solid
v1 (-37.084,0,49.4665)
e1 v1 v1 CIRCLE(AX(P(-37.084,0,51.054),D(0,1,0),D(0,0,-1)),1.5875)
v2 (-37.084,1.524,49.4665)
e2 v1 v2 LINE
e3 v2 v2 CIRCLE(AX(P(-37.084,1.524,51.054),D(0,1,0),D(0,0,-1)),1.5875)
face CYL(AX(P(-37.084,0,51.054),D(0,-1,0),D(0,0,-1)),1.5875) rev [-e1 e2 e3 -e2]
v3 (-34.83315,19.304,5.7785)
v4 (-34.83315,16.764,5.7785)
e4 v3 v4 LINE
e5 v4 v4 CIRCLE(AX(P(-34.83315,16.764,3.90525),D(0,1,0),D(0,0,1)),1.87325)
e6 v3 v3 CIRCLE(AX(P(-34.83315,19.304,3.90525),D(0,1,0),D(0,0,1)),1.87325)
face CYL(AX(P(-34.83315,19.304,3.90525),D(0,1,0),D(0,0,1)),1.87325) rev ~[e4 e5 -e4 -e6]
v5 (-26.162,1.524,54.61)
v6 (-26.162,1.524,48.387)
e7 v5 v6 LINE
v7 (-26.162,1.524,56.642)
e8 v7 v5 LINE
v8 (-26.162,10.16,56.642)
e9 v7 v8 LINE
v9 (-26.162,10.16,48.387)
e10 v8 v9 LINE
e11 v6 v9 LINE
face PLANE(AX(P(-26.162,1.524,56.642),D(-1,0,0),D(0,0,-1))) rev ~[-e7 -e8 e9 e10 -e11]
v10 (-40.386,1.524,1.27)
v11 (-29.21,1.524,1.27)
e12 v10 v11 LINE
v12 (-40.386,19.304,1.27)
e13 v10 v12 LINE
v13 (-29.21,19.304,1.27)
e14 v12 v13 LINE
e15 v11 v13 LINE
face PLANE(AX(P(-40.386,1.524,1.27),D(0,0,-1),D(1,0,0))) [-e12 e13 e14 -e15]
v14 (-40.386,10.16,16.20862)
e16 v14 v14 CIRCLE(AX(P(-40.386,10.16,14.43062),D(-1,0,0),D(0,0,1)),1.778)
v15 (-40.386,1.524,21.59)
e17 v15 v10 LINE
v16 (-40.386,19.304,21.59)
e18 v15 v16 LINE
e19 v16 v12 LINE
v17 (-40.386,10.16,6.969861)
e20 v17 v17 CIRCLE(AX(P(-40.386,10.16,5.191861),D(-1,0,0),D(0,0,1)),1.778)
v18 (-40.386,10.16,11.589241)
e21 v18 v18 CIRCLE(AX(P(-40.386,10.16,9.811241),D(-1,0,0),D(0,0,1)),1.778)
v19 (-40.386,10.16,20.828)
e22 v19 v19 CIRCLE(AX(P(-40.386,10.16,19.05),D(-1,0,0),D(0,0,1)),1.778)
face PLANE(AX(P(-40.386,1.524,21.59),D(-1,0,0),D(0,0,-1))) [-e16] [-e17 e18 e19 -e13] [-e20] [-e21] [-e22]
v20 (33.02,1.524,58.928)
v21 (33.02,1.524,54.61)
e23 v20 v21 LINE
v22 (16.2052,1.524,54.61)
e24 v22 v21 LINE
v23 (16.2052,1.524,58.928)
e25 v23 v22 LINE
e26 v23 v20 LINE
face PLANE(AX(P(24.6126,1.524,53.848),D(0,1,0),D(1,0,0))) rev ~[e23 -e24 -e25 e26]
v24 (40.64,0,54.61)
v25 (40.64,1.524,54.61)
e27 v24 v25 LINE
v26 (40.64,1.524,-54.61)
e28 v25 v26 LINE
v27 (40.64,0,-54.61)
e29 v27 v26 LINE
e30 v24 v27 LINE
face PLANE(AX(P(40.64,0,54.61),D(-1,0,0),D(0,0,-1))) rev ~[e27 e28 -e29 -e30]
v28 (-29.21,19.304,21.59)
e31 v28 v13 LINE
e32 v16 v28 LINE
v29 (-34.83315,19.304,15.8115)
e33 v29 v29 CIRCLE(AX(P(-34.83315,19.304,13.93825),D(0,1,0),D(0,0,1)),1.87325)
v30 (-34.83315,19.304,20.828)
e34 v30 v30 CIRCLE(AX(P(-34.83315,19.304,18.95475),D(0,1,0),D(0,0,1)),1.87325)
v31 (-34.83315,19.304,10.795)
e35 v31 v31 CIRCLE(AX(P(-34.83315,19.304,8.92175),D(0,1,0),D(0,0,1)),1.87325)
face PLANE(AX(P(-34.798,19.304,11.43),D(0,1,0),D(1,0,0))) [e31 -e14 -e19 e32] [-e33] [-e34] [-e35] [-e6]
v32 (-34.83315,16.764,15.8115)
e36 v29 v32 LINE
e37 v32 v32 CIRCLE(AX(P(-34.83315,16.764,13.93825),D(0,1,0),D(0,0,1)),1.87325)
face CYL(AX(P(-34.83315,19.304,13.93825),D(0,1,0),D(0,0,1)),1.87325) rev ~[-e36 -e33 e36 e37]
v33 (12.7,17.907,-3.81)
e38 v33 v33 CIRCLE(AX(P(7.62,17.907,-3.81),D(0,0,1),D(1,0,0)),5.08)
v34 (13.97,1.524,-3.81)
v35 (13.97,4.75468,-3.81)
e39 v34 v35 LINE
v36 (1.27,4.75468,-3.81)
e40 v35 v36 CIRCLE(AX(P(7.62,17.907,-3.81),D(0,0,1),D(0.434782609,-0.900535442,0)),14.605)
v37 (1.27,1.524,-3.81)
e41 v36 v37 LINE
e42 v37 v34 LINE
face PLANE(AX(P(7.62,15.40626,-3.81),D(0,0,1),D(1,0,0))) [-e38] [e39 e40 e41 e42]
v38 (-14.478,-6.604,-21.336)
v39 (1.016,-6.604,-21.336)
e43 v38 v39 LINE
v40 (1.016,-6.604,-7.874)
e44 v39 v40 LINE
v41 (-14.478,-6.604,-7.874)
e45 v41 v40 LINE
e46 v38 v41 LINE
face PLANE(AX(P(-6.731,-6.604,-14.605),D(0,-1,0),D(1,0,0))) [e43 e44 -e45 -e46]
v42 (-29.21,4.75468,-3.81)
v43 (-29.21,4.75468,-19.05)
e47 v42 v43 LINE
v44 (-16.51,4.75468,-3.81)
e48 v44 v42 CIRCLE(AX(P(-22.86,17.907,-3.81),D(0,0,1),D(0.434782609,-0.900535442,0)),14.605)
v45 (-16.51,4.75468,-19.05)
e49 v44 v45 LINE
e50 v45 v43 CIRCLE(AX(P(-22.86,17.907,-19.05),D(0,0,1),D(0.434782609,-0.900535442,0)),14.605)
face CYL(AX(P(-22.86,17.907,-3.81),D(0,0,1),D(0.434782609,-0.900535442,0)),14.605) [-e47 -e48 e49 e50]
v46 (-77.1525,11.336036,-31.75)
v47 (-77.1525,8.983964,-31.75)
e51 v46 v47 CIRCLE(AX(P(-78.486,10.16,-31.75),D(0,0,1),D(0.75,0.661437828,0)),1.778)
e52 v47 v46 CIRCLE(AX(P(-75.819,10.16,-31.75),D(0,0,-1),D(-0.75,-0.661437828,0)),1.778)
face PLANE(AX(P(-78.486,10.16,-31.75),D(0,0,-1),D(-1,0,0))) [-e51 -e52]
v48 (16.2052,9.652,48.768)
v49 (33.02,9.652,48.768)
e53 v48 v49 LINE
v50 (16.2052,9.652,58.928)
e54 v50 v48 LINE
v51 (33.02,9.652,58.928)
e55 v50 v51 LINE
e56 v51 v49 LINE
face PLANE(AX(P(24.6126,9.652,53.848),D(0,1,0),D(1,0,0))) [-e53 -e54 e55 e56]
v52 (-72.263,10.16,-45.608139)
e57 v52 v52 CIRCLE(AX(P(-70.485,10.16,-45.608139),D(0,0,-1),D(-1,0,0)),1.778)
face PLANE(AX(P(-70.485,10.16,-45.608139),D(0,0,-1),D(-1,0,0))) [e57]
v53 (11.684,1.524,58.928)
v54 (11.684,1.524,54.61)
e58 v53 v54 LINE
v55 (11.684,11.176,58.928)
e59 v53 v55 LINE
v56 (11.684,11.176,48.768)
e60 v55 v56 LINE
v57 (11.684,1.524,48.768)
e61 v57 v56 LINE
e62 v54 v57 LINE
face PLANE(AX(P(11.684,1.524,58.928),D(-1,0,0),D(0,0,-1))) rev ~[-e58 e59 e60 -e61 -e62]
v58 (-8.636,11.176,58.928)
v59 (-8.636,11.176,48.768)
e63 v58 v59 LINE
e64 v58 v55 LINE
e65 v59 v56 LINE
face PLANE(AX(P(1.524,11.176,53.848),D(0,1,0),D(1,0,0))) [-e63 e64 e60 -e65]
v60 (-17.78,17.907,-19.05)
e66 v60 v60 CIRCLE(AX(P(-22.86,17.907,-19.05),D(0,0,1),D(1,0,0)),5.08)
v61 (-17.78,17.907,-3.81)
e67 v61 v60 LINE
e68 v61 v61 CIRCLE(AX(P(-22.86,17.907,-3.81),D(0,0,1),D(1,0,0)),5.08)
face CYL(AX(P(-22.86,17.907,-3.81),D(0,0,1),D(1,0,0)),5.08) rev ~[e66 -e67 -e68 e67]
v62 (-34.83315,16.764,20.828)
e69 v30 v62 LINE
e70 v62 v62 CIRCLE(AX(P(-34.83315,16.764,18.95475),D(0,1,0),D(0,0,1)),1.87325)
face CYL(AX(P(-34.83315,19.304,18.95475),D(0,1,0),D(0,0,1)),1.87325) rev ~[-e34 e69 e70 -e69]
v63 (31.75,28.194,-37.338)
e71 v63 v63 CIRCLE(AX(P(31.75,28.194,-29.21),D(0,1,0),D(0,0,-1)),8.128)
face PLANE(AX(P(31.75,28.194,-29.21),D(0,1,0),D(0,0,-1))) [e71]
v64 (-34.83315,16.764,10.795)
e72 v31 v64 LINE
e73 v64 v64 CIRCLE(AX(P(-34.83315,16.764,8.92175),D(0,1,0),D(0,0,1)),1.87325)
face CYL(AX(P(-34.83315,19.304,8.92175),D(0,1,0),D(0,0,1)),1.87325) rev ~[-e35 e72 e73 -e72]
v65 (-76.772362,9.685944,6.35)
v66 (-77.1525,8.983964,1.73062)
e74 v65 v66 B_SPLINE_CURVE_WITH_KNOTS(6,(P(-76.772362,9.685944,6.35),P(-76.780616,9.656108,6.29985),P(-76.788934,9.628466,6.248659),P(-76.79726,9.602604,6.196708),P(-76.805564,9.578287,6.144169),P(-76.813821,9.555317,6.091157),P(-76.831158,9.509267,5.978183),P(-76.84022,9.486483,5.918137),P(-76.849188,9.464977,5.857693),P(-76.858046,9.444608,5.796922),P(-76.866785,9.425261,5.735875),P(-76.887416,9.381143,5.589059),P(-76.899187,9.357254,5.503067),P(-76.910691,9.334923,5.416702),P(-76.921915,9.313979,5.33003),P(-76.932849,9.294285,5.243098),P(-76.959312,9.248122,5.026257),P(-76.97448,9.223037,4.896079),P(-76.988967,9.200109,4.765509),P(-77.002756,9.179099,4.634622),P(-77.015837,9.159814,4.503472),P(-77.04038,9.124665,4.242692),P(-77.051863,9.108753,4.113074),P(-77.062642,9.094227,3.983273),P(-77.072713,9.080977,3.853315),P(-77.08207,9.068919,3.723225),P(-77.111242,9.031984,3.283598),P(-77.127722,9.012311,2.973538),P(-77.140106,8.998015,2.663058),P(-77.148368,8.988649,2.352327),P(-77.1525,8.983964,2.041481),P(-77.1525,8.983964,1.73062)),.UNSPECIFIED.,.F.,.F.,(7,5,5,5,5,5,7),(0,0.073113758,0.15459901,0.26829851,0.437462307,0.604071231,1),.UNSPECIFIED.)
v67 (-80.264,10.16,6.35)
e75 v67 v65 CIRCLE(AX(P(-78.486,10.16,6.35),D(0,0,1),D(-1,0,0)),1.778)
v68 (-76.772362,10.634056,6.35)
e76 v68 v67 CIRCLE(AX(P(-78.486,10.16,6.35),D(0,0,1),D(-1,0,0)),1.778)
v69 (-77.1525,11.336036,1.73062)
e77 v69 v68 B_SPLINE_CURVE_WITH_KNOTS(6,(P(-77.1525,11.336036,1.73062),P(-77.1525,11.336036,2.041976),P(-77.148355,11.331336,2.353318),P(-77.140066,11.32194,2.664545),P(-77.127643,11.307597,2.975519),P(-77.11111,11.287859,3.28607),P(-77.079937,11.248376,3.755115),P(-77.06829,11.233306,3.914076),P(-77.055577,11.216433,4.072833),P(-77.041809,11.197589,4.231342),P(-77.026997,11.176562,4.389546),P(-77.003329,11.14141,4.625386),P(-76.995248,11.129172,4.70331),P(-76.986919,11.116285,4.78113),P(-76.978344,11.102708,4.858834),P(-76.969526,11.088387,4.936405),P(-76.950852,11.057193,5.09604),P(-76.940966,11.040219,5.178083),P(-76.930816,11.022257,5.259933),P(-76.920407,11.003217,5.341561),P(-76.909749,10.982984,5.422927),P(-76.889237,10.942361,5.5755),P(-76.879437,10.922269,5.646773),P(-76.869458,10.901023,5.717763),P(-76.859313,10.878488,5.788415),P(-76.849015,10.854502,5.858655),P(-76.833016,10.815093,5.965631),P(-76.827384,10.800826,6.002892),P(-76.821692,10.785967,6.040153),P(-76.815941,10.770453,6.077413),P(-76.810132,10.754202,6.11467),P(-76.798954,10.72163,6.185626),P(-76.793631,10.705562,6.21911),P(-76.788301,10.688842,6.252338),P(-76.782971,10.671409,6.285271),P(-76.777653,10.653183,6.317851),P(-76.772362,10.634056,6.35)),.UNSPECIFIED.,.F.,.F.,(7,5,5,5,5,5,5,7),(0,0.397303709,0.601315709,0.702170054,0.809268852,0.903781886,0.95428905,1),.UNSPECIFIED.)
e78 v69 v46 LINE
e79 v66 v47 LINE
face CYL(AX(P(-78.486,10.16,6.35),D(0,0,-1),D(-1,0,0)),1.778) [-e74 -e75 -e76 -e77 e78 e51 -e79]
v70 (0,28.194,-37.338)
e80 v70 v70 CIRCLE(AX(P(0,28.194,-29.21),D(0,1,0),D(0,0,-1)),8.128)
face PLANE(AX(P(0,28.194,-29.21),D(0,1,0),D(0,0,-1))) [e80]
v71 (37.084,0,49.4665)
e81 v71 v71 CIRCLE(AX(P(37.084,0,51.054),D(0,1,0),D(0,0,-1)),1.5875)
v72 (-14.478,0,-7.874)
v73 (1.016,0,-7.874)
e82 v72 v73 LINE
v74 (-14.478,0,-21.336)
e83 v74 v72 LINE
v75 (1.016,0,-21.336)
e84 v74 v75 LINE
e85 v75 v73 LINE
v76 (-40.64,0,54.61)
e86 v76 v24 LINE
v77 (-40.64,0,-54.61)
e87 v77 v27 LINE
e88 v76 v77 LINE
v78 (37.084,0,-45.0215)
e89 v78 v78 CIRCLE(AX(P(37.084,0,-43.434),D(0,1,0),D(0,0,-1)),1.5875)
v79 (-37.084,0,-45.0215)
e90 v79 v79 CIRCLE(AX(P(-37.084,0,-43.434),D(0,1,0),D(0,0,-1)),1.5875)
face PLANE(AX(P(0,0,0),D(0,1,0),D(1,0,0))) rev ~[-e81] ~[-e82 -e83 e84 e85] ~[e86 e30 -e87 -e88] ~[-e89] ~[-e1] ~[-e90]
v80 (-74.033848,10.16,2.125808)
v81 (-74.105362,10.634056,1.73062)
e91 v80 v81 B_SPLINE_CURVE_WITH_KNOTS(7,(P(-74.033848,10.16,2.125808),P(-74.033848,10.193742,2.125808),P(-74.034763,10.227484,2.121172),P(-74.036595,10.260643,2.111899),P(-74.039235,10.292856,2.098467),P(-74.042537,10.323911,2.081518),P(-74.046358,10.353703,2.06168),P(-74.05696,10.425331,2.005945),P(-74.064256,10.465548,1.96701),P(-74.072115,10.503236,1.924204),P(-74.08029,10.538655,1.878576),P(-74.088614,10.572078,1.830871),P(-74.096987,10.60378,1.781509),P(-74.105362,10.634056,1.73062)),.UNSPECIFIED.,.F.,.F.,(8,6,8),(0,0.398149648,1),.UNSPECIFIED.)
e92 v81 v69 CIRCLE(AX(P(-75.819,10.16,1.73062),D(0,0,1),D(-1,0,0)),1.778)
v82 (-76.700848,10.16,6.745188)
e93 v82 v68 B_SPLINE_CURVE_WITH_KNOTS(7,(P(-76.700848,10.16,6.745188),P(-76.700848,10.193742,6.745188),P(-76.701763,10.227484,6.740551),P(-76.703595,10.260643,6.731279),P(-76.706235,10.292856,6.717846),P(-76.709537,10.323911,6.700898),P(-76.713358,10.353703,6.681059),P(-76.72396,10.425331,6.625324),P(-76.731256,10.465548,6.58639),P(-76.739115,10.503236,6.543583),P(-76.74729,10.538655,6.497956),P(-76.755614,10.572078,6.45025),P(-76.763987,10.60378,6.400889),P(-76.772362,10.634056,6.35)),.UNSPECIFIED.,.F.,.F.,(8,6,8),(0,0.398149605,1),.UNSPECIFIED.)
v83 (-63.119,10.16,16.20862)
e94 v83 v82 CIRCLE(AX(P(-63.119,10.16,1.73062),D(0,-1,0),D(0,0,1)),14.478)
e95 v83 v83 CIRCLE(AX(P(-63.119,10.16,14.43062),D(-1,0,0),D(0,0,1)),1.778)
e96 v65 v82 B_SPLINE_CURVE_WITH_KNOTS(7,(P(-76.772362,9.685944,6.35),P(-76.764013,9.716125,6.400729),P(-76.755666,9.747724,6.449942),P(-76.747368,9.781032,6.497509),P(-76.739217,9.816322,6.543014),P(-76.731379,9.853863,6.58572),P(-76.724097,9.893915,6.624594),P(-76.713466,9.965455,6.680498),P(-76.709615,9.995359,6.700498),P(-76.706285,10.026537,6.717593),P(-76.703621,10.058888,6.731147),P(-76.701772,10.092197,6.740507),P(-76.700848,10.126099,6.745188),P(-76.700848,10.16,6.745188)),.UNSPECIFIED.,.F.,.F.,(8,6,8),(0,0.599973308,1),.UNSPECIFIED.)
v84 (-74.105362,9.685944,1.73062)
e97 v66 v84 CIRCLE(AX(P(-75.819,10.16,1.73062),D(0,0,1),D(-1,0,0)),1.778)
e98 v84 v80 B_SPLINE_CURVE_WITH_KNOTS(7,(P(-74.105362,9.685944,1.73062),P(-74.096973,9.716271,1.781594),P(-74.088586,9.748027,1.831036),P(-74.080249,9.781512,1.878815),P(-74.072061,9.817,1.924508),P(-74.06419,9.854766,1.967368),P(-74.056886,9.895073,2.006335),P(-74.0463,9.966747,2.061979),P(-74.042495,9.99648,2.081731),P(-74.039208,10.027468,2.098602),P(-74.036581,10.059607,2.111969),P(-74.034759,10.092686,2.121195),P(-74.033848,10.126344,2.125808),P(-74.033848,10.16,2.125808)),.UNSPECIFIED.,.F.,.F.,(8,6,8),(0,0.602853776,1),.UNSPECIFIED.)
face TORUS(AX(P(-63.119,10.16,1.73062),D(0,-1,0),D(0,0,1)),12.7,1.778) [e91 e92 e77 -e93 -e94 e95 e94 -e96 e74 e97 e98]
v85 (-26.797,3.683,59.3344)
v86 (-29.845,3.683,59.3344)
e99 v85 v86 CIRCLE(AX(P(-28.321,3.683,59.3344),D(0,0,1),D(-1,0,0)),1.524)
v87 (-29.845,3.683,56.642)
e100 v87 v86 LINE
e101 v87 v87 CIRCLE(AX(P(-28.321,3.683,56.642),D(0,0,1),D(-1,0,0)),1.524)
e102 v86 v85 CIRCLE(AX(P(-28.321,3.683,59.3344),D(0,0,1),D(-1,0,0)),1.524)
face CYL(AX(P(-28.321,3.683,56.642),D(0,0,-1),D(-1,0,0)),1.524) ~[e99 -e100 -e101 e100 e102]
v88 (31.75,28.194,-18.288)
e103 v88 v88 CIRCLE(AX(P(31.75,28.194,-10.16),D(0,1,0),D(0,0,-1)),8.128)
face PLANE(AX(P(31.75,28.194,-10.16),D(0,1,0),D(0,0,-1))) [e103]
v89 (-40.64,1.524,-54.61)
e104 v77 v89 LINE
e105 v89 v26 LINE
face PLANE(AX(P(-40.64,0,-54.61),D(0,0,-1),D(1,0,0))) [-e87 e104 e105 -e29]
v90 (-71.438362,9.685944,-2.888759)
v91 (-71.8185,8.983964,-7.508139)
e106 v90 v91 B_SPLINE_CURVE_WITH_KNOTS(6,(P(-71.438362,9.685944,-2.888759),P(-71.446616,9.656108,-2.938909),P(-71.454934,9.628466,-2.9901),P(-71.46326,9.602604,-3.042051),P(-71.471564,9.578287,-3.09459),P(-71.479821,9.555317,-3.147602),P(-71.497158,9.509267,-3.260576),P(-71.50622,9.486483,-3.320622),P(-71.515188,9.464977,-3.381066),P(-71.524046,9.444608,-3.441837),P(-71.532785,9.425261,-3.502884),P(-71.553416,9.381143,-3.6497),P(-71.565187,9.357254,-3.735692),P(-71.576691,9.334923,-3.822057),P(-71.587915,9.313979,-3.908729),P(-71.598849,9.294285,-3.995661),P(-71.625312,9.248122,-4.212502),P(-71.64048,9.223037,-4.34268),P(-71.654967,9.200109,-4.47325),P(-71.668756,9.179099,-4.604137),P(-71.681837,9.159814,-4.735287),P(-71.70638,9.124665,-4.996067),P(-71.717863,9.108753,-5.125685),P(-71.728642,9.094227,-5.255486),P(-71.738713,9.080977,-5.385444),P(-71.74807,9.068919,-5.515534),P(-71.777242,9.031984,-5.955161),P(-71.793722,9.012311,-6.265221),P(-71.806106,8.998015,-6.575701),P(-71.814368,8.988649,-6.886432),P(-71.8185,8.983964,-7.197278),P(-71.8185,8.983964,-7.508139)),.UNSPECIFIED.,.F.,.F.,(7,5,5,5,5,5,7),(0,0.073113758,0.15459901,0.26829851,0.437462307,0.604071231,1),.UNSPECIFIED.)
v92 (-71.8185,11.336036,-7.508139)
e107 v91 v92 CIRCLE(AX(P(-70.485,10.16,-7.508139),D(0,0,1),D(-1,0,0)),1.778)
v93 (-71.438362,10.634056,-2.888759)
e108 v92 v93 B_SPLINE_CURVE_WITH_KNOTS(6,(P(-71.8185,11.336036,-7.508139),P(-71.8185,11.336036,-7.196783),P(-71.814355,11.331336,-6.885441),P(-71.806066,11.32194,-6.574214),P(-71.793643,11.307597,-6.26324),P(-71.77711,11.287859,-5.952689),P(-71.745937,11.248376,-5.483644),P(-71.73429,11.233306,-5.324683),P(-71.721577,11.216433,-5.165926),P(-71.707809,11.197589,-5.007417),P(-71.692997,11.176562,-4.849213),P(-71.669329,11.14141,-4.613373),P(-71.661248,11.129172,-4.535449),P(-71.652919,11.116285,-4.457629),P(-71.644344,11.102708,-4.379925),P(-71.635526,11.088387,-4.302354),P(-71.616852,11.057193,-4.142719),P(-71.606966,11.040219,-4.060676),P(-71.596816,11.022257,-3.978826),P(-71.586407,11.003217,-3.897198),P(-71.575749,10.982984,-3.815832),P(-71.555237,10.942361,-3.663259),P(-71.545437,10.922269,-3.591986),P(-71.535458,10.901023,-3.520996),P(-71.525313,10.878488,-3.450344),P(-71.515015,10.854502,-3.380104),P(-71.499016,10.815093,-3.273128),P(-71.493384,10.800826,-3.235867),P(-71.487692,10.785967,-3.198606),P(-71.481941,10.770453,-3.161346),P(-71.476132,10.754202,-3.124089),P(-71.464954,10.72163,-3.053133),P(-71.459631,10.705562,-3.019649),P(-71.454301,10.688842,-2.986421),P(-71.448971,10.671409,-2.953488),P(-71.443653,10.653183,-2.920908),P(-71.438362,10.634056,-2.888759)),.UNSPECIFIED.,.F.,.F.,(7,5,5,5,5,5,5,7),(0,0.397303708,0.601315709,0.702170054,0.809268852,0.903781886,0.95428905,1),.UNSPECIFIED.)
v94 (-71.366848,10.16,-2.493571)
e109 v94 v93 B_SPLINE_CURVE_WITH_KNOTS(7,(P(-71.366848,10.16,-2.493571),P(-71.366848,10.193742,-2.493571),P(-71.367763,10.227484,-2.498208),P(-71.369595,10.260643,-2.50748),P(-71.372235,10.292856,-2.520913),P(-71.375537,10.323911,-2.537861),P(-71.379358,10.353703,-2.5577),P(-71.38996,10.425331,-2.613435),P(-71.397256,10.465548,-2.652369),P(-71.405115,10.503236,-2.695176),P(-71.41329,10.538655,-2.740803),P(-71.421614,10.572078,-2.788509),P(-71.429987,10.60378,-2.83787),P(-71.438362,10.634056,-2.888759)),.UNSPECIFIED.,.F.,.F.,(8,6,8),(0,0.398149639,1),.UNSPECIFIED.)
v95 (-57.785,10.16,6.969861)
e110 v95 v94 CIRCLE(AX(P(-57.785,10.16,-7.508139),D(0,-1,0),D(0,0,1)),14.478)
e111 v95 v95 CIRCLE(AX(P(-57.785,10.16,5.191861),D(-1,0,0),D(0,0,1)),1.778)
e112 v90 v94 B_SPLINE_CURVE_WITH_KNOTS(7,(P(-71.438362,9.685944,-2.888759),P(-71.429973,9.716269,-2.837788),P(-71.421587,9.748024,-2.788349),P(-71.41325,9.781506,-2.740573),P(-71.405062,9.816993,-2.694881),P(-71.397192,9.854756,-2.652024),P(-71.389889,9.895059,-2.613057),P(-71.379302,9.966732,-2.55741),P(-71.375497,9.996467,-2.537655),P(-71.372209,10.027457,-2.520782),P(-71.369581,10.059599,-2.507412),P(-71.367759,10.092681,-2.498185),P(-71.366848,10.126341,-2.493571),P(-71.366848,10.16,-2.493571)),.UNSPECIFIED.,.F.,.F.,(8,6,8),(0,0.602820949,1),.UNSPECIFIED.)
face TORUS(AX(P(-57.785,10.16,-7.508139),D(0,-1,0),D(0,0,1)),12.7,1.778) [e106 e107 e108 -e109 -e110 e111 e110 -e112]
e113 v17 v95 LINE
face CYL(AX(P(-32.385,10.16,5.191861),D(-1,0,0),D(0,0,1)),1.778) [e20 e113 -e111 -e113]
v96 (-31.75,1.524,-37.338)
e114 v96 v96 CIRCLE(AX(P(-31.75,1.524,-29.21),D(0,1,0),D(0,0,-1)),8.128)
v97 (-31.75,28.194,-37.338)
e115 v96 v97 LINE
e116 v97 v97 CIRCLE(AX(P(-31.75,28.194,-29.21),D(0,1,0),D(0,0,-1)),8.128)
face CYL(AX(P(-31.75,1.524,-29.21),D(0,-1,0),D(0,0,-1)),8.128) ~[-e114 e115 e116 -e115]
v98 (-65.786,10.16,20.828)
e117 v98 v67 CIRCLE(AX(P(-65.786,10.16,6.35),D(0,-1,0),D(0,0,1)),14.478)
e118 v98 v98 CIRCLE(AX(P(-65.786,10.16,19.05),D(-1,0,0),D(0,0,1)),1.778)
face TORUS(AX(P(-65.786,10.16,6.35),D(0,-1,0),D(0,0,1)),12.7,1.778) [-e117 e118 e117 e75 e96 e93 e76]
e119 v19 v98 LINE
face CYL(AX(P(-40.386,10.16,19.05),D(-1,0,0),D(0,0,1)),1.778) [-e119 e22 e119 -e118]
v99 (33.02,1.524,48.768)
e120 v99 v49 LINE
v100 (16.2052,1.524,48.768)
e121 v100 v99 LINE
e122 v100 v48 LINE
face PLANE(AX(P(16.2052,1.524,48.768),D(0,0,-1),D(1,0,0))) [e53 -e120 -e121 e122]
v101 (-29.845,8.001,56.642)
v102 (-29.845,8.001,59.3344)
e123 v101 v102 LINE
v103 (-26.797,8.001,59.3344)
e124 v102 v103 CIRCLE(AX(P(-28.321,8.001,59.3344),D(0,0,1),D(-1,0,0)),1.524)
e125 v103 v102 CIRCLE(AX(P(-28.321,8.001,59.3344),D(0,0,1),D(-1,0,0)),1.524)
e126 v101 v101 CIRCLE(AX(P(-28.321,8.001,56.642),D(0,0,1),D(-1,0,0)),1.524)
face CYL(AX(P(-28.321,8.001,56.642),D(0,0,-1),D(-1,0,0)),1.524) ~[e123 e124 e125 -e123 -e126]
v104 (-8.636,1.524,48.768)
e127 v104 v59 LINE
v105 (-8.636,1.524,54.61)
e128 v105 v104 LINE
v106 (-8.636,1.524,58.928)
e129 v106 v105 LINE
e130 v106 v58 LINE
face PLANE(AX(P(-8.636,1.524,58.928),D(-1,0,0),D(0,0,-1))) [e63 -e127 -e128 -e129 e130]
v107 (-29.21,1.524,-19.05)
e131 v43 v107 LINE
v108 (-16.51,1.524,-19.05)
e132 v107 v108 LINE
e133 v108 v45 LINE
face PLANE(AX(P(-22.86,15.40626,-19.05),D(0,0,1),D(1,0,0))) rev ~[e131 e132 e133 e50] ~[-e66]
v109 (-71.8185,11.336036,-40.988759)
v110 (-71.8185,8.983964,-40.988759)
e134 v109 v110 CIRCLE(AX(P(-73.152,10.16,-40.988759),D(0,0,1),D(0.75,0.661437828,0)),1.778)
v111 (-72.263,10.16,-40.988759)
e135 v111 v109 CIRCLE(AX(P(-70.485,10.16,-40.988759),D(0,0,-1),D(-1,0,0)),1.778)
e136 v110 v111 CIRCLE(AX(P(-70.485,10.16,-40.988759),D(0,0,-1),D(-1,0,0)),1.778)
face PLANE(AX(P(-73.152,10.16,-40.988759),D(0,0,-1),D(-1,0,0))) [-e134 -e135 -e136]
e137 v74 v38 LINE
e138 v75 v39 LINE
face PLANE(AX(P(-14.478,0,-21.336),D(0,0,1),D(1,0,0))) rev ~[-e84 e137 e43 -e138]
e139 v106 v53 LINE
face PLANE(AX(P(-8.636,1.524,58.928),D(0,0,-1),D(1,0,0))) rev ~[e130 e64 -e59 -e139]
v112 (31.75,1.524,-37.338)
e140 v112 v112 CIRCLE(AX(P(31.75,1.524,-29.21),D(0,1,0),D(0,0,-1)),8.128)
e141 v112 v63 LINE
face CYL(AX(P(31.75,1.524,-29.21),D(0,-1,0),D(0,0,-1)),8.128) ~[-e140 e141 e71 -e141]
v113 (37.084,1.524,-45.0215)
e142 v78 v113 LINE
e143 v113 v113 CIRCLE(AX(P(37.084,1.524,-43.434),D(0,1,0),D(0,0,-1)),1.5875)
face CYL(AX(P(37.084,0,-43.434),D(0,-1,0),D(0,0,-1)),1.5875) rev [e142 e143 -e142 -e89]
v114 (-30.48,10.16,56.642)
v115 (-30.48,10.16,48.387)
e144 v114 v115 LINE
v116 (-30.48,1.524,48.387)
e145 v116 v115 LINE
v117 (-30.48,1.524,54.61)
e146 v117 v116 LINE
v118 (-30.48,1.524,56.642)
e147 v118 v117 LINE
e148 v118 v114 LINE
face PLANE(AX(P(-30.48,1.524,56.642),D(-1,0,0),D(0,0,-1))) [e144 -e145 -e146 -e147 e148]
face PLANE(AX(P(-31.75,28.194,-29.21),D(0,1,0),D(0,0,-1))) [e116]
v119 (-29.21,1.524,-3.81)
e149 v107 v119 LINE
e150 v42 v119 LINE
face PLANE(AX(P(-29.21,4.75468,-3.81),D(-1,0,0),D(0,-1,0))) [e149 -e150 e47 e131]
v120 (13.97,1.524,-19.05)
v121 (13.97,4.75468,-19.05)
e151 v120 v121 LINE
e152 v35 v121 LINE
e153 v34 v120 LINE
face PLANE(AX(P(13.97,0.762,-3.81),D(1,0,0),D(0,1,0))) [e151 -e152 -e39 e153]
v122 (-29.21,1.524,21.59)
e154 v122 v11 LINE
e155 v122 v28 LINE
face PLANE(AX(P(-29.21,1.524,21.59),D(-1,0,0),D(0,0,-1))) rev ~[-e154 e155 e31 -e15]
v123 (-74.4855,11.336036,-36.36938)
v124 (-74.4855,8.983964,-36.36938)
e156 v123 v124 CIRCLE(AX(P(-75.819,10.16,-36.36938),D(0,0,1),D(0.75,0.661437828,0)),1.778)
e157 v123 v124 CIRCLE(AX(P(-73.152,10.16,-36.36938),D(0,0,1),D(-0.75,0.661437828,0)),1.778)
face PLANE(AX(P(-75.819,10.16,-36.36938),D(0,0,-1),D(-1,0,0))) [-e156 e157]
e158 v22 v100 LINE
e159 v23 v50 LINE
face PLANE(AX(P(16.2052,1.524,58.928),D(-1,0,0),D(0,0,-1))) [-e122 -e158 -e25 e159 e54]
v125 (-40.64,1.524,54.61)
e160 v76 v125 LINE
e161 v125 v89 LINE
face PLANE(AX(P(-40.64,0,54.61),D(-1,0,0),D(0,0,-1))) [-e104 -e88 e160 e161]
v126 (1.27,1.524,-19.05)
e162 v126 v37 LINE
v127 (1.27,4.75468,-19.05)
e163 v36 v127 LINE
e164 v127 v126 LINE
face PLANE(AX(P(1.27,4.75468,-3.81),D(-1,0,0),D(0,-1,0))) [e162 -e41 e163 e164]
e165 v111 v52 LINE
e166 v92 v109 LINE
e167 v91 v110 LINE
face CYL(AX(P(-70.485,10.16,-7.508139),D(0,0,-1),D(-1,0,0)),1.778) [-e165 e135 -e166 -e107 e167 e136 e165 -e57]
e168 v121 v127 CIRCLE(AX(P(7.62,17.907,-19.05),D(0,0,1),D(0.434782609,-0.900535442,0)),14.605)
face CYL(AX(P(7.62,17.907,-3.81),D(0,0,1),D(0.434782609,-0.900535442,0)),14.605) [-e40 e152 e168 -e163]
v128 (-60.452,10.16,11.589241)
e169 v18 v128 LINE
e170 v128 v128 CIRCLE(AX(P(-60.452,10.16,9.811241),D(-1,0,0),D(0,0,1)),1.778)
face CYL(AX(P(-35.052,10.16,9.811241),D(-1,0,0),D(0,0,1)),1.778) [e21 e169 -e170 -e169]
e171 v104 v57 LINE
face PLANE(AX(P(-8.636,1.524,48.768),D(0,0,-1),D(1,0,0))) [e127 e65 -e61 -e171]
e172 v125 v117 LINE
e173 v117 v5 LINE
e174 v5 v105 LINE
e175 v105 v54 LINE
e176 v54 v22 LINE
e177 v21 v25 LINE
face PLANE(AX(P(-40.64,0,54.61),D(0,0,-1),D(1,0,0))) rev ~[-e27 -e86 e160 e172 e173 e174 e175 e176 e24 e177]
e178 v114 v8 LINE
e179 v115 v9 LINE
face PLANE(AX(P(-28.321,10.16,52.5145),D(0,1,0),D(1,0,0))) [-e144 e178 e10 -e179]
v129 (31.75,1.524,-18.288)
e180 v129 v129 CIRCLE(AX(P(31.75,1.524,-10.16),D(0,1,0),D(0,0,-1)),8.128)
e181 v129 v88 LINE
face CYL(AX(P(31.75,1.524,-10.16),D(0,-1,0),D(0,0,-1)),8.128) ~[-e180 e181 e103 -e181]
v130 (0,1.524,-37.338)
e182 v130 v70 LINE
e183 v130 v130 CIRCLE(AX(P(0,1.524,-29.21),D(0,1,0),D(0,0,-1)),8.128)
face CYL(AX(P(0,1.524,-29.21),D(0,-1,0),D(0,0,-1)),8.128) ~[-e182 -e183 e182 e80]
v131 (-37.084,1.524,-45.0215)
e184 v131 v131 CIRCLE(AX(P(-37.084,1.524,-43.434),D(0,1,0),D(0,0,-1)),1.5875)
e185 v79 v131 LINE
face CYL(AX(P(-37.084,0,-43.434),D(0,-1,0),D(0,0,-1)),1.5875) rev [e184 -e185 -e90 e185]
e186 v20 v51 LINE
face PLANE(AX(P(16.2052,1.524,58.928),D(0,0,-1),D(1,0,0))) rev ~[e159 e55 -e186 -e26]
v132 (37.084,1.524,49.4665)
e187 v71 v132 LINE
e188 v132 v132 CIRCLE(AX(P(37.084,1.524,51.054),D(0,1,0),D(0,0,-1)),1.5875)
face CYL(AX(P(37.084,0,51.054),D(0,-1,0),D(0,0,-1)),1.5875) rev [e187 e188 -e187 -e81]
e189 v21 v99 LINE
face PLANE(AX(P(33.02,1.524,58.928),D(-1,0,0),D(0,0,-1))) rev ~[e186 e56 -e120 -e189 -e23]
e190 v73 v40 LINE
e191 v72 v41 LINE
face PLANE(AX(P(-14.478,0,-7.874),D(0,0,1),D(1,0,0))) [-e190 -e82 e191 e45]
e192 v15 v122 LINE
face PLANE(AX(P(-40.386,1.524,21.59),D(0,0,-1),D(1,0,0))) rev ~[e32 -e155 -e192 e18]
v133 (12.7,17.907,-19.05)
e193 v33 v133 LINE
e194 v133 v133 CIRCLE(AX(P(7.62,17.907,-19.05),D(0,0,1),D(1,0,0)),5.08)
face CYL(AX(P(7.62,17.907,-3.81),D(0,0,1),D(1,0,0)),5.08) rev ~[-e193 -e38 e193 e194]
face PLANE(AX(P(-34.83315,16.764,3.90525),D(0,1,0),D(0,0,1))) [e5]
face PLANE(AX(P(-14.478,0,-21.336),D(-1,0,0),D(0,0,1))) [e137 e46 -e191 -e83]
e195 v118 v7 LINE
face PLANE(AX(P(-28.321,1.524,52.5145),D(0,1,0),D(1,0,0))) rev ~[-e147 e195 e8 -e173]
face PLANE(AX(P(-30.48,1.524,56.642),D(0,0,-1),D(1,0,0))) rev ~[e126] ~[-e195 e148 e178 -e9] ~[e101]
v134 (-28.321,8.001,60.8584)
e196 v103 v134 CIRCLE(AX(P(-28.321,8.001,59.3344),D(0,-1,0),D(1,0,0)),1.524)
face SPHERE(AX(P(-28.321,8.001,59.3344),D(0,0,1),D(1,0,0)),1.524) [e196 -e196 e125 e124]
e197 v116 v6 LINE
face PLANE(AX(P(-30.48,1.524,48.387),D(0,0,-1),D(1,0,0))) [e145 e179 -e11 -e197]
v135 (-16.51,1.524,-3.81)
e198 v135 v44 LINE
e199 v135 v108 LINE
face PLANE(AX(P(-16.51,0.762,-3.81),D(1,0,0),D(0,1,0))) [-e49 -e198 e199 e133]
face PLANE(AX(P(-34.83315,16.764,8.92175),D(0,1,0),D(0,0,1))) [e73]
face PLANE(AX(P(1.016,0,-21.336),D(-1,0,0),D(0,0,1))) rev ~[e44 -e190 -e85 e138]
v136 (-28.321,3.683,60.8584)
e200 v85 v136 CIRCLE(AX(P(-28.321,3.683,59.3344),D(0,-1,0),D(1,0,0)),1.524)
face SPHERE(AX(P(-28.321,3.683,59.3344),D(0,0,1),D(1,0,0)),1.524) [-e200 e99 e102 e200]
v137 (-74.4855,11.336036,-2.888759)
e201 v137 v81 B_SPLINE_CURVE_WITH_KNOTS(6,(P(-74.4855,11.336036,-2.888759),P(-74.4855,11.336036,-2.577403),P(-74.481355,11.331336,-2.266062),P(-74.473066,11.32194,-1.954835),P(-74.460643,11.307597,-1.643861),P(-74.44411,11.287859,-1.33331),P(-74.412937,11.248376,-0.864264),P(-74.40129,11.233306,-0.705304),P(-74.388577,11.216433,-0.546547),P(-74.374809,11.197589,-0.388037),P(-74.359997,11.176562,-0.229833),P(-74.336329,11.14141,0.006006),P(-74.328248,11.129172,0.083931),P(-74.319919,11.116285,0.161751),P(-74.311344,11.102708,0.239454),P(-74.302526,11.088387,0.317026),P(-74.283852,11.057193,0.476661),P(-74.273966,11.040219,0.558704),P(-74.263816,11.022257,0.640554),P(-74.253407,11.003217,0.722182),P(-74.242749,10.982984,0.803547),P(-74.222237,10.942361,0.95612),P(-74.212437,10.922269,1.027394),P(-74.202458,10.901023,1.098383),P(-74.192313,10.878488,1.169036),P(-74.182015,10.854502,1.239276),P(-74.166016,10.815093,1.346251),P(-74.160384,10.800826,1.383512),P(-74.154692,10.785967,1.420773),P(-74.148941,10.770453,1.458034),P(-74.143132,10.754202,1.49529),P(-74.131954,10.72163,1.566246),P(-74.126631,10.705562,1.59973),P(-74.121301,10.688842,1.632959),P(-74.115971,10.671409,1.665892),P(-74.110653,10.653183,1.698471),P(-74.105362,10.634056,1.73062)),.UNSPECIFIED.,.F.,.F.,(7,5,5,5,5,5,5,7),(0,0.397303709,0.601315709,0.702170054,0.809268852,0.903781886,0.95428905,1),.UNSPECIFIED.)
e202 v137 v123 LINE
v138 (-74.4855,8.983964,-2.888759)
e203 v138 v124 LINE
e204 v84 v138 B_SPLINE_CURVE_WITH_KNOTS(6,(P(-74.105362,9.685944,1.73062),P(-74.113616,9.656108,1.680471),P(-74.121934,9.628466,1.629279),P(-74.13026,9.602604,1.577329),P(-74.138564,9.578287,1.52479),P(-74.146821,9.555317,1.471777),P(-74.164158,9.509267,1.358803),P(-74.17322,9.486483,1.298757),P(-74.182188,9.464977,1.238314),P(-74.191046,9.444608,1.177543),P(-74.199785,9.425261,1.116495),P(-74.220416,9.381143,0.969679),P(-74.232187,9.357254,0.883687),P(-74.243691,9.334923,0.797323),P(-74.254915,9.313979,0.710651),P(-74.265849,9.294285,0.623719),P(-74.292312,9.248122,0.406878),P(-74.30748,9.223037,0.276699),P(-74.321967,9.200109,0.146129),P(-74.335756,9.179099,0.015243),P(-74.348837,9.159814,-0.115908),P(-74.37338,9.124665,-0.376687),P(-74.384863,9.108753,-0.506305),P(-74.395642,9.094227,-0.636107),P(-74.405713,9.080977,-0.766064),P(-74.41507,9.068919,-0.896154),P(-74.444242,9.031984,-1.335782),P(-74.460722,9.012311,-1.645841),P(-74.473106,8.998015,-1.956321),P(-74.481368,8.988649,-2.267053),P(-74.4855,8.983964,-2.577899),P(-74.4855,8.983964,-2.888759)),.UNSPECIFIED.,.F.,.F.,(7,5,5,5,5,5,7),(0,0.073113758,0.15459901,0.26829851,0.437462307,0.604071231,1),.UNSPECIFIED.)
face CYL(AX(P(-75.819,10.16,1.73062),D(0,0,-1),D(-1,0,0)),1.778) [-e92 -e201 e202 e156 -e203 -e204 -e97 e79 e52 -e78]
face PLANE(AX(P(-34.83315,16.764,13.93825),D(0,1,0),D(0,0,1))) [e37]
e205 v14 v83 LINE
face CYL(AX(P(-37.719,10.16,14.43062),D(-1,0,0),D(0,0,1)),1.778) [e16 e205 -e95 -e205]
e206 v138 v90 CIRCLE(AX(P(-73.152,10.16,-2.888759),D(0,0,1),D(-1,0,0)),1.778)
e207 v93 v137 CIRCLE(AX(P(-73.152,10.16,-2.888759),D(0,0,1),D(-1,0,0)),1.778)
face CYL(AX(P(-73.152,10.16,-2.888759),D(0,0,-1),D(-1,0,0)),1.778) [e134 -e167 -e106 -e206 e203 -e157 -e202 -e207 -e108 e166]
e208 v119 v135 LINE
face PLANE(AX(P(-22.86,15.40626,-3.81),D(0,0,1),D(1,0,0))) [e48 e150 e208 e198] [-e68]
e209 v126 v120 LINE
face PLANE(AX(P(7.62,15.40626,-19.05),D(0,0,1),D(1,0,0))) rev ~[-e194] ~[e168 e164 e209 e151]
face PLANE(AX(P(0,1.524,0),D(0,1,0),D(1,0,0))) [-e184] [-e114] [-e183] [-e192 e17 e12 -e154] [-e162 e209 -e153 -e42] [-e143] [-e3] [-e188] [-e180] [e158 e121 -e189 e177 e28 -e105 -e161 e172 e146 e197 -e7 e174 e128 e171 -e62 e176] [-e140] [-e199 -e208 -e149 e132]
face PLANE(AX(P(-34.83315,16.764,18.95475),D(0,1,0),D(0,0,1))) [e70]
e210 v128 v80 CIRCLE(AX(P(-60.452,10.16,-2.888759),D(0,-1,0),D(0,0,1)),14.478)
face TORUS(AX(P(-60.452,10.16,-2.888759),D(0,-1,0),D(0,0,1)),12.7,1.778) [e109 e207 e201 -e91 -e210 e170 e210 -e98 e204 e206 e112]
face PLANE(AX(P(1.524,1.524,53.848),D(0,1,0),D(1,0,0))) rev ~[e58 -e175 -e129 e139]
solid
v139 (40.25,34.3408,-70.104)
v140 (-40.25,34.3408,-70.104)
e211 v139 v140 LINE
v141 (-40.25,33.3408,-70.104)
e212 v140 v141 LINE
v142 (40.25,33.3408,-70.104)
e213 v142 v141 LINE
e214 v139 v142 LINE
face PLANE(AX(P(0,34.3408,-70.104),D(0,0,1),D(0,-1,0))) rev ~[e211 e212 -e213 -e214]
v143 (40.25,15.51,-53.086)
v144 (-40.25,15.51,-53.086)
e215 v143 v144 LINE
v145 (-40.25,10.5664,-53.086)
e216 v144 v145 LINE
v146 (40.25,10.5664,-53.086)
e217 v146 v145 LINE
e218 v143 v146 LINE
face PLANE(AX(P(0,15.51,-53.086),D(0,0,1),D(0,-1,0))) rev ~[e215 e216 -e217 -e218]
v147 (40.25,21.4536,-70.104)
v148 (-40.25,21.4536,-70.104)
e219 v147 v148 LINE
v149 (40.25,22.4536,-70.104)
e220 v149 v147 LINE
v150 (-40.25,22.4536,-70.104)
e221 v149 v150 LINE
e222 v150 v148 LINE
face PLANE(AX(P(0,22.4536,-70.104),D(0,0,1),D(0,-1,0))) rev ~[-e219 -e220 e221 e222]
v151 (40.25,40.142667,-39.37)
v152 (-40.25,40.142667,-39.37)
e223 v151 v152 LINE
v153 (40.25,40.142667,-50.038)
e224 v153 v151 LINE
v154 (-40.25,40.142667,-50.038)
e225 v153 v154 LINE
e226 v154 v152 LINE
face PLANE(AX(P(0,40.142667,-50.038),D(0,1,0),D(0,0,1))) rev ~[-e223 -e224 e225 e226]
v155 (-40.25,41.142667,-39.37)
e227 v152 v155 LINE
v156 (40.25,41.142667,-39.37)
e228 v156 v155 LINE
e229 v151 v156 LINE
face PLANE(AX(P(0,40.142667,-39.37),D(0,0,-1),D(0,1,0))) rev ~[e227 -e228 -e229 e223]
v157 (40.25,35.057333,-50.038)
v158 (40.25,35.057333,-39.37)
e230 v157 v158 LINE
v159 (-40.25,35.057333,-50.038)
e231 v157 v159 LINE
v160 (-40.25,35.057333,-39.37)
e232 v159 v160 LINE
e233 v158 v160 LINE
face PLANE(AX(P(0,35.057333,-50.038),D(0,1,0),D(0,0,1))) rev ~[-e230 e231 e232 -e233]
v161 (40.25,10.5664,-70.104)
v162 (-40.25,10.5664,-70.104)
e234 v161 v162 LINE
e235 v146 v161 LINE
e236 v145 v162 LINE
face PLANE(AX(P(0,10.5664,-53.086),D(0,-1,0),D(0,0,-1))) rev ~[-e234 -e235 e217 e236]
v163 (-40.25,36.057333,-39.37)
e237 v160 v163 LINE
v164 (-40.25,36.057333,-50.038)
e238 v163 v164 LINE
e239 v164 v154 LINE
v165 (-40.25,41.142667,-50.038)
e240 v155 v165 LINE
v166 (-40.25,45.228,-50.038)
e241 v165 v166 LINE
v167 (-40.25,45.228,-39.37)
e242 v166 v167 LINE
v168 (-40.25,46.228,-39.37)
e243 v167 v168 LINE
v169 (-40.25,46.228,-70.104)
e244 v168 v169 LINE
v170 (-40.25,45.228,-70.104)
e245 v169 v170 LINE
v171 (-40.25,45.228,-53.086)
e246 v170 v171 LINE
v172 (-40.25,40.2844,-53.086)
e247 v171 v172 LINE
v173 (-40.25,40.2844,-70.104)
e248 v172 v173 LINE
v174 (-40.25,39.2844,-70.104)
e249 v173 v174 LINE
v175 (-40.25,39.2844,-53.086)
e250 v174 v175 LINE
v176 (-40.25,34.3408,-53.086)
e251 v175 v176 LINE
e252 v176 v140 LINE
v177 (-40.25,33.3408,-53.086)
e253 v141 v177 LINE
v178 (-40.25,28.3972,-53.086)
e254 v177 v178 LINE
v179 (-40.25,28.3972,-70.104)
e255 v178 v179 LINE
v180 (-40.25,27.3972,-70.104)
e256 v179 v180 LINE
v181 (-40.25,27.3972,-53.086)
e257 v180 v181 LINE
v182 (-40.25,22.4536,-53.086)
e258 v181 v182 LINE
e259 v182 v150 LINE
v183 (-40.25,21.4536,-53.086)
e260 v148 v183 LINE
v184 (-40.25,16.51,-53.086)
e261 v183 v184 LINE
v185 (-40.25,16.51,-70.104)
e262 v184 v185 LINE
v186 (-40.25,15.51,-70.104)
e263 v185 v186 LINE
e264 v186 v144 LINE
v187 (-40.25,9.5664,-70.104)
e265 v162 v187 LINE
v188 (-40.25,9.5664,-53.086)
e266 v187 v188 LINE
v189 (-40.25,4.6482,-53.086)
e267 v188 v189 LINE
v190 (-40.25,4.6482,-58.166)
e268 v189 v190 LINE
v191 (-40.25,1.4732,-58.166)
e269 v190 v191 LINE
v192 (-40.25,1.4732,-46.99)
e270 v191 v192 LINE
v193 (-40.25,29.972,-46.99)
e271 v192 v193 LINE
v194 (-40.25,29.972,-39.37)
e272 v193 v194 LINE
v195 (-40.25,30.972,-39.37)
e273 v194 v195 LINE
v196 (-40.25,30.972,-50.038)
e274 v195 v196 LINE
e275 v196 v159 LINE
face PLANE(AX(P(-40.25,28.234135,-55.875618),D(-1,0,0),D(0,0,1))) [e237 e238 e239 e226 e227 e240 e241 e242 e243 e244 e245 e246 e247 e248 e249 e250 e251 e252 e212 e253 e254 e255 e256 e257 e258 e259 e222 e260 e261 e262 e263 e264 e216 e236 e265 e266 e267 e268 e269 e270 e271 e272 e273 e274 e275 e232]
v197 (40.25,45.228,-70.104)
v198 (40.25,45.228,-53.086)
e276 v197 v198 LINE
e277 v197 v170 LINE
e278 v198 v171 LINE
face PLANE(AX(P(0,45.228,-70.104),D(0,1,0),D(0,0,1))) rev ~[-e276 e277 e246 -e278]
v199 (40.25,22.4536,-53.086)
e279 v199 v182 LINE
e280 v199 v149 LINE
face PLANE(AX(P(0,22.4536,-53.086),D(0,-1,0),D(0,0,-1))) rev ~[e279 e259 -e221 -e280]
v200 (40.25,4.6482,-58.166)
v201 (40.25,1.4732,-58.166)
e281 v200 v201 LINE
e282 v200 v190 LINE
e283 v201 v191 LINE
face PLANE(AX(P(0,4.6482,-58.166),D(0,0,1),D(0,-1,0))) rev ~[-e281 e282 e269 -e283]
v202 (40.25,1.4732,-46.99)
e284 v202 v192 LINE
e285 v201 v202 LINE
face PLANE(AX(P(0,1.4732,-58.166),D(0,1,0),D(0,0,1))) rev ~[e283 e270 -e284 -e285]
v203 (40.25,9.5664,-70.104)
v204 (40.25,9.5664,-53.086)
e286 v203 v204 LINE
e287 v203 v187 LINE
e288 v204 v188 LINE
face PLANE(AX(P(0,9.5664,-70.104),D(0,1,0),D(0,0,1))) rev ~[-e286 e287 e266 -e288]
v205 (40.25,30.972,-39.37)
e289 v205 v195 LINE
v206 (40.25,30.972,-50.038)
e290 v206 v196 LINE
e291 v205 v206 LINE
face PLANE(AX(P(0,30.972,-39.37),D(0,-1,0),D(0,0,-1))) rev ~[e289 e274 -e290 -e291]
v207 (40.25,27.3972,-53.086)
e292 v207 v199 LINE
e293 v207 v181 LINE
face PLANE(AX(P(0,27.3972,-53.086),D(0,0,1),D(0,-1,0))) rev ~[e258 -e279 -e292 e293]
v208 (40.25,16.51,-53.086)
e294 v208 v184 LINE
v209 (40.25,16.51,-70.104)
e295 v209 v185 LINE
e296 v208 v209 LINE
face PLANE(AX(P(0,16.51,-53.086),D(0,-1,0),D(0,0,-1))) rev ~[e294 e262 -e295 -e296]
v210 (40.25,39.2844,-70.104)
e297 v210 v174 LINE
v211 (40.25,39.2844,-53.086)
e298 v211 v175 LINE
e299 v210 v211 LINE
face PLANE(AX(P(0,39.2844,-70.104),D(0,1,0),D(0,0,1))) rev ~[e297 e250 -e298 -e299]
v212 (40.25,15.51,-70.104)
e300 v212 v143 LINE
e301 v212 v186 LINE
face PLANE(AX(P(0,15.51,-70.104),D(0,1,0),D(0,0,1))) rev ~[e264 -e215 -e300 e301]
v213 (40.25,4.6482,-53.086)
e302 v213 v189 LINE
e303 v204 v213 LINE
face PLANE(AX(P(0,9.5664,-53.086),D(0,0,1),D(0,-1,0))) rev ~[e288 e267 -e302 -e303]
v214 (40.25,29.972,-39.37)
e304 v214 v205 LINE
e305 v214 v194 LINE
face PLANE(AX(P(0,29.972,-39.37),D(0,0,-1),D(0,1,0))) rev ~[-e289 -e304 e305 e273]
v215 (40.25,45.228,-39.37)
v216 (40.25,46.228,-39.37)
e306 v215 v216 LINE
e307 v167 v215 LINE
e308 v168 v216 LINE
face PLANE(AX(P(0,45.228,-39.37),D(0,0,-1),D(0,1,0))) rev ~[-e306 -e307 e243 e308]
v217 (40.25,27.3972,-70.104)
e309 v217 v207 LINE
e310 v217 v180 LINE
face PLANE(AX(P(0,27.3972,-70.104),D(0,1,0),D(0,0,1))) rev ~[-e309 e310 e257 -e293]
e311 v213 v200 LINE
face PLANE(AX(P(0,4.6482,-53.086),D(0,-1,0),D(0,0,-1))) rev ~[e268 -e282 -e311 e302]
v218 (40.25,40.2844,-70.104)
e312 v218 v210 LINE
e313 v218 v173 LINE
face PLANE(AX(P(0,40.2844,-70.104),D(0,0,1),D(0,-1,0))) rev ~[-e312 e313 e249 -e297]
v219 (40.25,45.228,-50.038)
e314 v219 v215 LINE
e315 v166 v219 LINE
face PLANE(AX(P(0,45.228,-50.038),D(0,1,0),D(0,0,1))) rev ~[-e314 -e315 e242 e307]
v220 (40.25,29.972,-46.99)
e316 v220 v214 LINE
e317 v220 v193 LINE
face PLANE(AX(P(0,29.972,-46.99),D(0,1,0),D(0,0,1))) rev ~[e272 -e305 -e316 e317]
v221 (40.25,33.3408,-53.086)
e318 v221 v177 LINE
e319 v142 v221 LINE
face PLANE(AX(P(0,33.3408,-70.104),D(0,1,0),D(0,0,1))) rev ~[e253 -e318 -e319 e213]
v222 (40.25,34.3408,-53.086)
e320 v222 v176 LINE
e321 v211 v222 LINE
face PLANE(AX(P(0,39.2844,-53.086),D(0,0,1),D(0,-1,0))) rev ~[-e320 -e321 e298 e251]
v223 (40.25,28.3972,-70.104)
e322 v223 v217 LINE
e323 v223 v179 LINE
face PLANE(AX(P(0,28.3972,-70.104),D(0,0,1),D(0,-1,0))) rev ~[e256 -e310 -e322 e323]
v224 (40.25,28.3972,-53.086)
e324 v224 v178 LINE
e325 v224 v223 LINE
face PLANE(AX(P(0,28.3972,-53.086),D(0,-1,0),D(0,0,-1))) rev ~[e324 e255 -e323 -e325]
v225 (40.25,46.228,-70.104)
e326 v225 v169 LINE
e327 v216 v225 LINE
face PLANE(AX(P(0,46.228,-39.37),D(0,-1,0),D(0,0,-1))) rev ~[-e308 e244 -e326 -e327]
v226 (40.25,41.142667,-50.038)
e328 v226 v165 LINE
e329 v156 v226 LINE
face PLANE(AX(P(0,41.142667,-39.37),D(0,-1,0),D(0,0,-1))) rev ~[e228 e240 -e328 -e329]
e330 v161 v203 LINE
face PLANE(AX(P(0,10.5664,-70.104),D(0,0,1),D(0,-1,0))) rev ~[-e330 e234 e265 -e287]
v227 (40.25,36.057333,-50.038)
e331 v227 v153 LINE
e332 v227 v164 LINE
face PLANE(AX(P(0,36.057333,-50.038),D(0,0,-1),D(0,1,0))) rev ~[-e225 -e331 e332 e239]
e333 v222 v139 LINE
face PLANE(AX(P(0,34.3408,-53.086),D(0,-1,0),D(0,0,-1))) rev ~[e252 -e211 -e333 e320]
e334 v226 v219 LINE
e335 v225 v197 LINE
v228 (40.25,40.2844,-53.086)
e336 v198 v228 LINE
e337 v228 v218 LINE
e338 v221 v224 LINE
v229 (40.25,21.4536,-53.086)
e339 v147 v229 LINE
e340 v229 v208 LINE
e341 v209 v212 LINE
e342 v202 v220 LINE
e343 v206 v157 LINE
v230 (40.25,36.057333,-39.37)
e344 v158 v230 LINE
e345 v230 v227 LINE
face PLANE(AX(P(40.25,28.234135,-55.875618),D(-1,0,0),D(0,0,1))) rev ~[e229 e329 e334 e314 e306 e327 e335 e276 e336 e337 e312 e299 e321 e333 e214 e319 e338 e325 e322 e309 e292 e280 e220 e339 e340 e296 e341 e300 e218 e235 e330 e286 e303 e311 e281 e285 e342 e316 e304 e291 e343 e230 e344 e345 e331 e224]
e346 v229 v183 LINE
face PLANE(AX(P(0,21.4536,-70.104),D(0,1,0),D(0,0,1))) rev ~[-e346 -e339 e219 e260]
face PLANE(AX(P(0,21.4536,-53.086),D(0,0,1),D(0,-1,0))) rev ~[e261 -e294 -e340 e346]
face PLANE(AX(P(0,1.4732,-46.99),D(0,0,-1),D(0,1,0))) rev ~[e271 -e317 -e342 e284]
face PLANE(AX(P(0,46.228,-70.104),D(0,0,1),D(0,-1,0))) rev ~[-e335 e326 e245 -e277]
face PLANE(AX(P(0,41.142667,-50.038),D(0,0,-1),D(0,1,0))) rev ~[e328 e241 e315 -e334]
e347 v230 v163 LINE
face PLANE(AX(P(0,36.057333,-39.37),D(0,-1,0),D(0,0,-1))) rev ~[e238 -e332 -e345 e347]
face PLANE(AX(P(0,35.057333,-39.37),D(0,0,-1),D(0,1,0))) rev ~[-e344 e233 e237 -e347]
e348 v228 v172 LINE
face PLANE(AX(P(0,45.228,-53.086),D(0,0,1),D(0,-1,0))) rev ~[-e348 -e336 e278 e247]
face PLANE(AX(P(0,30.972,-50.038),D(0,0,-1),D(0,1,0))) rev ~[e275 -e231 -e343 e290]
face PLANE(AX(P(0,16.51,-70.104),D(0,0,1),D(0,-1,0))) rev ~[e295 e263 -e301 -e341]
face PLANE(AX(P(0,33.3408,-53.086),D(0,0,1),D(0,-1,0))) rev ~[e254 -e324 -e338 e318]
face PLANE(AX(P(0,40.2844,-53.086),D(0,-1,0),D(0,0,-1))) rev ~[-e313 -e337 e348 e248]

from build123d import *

# Parameters (mm, degrees)
SKETCH9_W            = 81.28
SKETCH9_H            = 109.22
SKETCH9_R            = 1.5875
BOSS_EXTRUDE9_DEPTH  = 1.524
BOSS_EXTRUDE2_DEPTH  = 40.25
SKETCH10_W           = 20.32
SKETCH10_H           = 10.16
BOSS_EXTRUDE10_DEPTH = 9.652
SKETCH11_W           = 16.8148
SKETCH11_H           = 10.16
BOSS_EXTRUDE11_DEPTH = 8.128
SKETCH12_W           = 11.176
SKETCH12_H           = 20.32
BOSS_EXTRUDE12_DEPTH = 17.78
SKETCH8_R            = 1.87325
CUT_EXTRUDE1_DEPTH   = 2.54
SKETCH15_R           = 1.778
LPATTERN1_COUNT      = 4
LPATTERN1_PITCH      = 5.334
SKETCH16_R           = 8.128
BOSS_EXTRUDE13_DEPTH = 26.67
BOSS_EXTRUDE14_START = -3.81
SKETCH17_R           = 5.08
BOSS_EXTRUDE14_DEPTH = 15.24
SKETCH18_W           = 4.318
SKETCH18_H           = 8.255
BOSS_EXTRUDE15_DEPTH = 8.636
SKETCH19_R           = 1.524
BOSS_EXTRUDE16_DEPTH = 2.6924
DOME1_FACE_RADIUS    = 1.524
DOME1_HEIGHT         = 1.524
DOME2_FACE_RADIUS    = 1.524
DOME2_HEIGHT         = 1.524
SKETCH20_W           = 15.494
SKETCH20_H           = 13.462
BOSS_EXTRUDE17_DEPTH = 6.604


with BuildPart() as part:
    # Sketch9 → Boss-Extrude9 (new body)
    with BuildSketch(Plane(origin=(0, 0, 0), x_dir=(1, 0, 0), z_dir=(0, 1, 0))):
        Rectangle(SKETCH9_W, SKETCH9_H)
        with Locations(Location((37.084, -51.054, 0), (0, 0, 90))):
            Circle(SKETCH9_R, mode=Mode.SUBTRACT)
        with Locations(Location((37.084, 43.434, 0), (0, 0, 90))):
            Circle(SKETCH9_R, mode=Mode.SUBTRACT)
        with Locations(Location((-37.084, 43.434, 0), (0, 0, 90))):
            Circle(SKETCH9_R, mode=Mode.SUBTRACT)
        with Locations(Location((-37.084, -51.054, 0), (0, 0, 90))):
            Circle(SKETCH9_R, mode=Mode.SUBTRACT)
    extrude(amount=BOSS_EXTRUDE9_DEPTH)

    # Sketch10 → Boss-Extrude10 (add)
    with BuildSketch(Plane(origin=(0, 1.524, 0), x_dir=(1, 0, 0), z_dir=(0, 1, 0))):
        with Locations((1.524, -53.848)):
            Rectangle(SKETCH10_W, SKETCH10_H)
    extrude(amount=BOSS_EXTRUDE10_DEPTH)

    # Sketch11 → Boss-Extrude11 (add)
    with BuildSketch(Plane(origin=(0, 1.524, 0), x_dir=(1, 0, 0), z_dir=(0, 1, 0))):
        with Locations((24.6126, -53.848)):
            Rectangle(SKETCH11_W, SKETCH11_H)
    extrude(amount=BOSS_EXTRUDE11_DEPTH)

    # Sketch12 → Boss-Extrude12 (add)
    with BuildSketch(Plane(origin=(0, 1.524, 0), x_dir=(1, 0, 0), z_dir=(0, 1, 0))):
        with Locations((-34.798, -11.43)):
            Rectangle(SKETCH12_W, SKETCH12_H)
    extrude(amount=BOSS_EXTRUDE12_DEPTH)

    # Sketch8 → Cut-Extrude1 (cut)
    with BuildSketch(Plane(origin=(0, 19.304, 0), x_dir=(1, 0, 0), z_dir=(0, 1, 0))):
        with Locations(Location((-34.83315, -3.90525, 0), (0, 0, 270))):
            Circle(SKETCH8_R)
        with Locations(Location((-34.83315, -8.92175, 0), (0, 0, 270))):
            Circle(SKETCH8_R)
        with Locations(Location((-34.83315, -13.93825, 0), (0, 0, 270))):
            Circle(SKETCH8_R)
        with Locations(Location((-34.83315, -18.95475, 0), (0, 0, 270))):
            Circle(SKETCH8_R)
    extrude(amount=-CUT_EXTRUDE1_DEPTH, mode=Mode.SUBTRACT)

    # Sweep1: sweep along a path in Sketch14
    with BuildLine(Plane(origin=(0, 10.16, 0), x_dir=(-1, 0, 0), z_dir=(0, 1, 0))) as sweep1_path:
        Line((40.386, 19.05), (65.786, 19.05))
        ThreePointArc((65.786, 19.05), (74.766256121, 15.330256121), (78.486, 6.35))
        Line((78.486, 6.35), (78.486, -31.75))
    # Sketch15 → Sweep1 (sweep)
    with BuildSketch(Plane.ZY.offset(40.386)):
        with Locations((19.05, 10.16)):
            Circle(SKETCH15_R)
    sweep1 = sweep(path=sweep1_path.line)

    # LPattern1: Sweep1 ×4
    with Locations(*[Vector(0.500000000000001, 0, -0.8660254037844382) * (i * LPATTERN1_PITCH) for i in range(1, LPATTERN1_COUNT)]):
        add(sweep1)

    # Sketch16 → Boss-Extrude13 (add)
    with BuildSketch(Plane(origin=(0, 1.524, 0), x_dir=(1, 0, 0), z_dir=(0, 1, 0))):
        with Locations(Location((-31.75, 29.21, 0), (0, 0, 90))):
            Circle(SKETCH16_R)
        with Locations(Location((0, 29.21, 0), (0, 0, 90))):
            Circle(SKETCH16_R)
        with Locations(Location((31.75, 29.21, 0), (0, 0, 90))):
            Circle(SKETCH16_R)
        with Locations(Location((31.75, 10.16, 0), (0, 0, 90))):
            Circle(SKETCH16_R)
    extrude(amount=BOSS_EXTRUDE13_DEPTH)

    # Sketch17 → Boss-Extrude14 (add)
    # profile 1 of 2: a face of its own
    with BuildSketch(Plane.XY.offset(BOSS_EXTRUDE14_START)):
        with BuildLine():
            Line((1.27, 0.762), (13.97, 0.762))
            Line((13.97, 0.762), (13.97, 4.754679862))
            ThreePointArc((13.97, 4.754679862), (7.62, 32.512), (1.27, 4.754679862))
            Line((1.27, 4.754679862), (1.27, 0.762))
        make_face()
        with Locations((7.62, 17.907)):
            Circle(SKETCH17_R, mode=Mode.SUBTRACT)
    # profile 2 of 2: a face of its own
    with BuildSketch(Plane.XY.offset(BOSS_EXTRUDE14_START)):
        with BuildLine():
            Line((-16.51, 0.762), (-16.51, 4.754679862))
            ThreePointArc((-16.51, 4.754679862), (-22.86, 32.512), (-29.21, 4.754679862))
            Line((-29.21, 4.754679862), (-29.21, 0.762))
            Line((-29.21, 0.762), (-16.51, 0.762))
        make_face()
        with Locations((-22.86, 17.907)):
            Circle(SKETCH17_R, mode=Mode.SUBTRACT)
    extrude(amount=-BOSS_EXTRUDE14_DEPTH)

    # Sketch18 → Boss-Extrude15 (add)
    with BuildSketch(Plane(origin=(0, 1.524, 0), x_dir=(1, 0, 0), z_dir=(0, 1, 0))):
        with Locations((-28.321, -52.5145)):
            Rectangle(SKETCH18_W, SKETCH18_H)
    extrude(amount=BOSS_EXTRUDE15_DEPTH)

    # Sketch19 → Boss-Extrude16 (add)
    with BuildSketch(Plane.XY.offset(56.642)):
        with Locations(Location((-28.321, 8.001, 0), (0, 0, 180))):
            Circle(SKETCH19_R)
        with Locations(Location((-28.321, 3.683, 0), (0, 0, 180))):
            Circle(SKETCH19_R)
    extrude(amount=BOSS_EXTRUDE16_DEPTH)

    # Dome1: a dome of height H over a round flat face of radius A is a cap of a sphere of radius (A * A + H * H) / (2 * H)
    dome1_r = (DOME1_FACE_RADIUS * DOME1_FACE_RADIUS + DOME1_HEIGHT * DOME1_HEIGHT) / (2 * DOME1_HEIGHT)
    dome1_base = Plane((-28.321, 8.001, 59.3344), z_dir=(0, 0, 1))
    with Locations(dome1_base.offset(DOME1_HEIGHT - dome1_r)):
        dome1_ball = Sphere(dome1_r, mode=Mode.PRIVATE)
    add(split(dome1_ball, bisect_by=dome1_base, keep=Keep.TOP, mode=Mode.PRIVATE))

    # Dome2: a dome of height H over a round flat face of radius A is a cap of a sphere of radius (A * A + H * H) / (2 * H)
    dome2_r = (DOME2_FACE_RADIUS * DOME2_FACE_RADIUS + DOME2_HEIGHT * DOME2_HEIGHT) / (2 * DOME2_HEIGHT)
    dome2_base = Plane((-28.321, 3.683, 59.3344), z_dir=(0, 0, 1))
    with Locations(dome2_base.offset(DOME2_HEIGHT - dome2_r)):
        dome2_ball = Sphere(dome2_r, mode=Mode.PRIVATE)
    add(split(dome2_ball, bisect_by=dome2_base, keep=Keep.TOP, mode=Mode.PRIVATE))

    # Sketch20 → Boss-Extrude17 (add)
    with BuildSketch(Plane.XZ):
        with Locations((-6.731, -14.605)):
            Rectangle(SKETCH20_W, SKETCH20_H)
    extrude(amount=BOSS_EXTRUDE17_DEPTH)


with BuildPart() as body_2:
    # Sketch2 → Boss-Extrude2 (new, symmetric)
    with BuildSketch(Plane(origin=(0, 0, 0), x_dir=(0, 0, -1), z_dir=(1, 0, 0))):
        Polygon((39.37, 46.228), (70.104, 46.228), (70.104, 45.228), (53.086, 45.228), (53.086, 40.2844), (70.104, 40.2844), (70.104, 39.2844), (53.086, 39.2844), (53.086, 34.3408), (70.104, 34.3408), (70.104, 33.3408), (53.086, 33.3408), (53.086, 28.3972), (70.104, 28.3972), (70.104, 27.3972), (53.086, 27.3972), (53.086, 22.4536), (70.104, 22.4536), (70.104, 21.4536), (53.086, 21.4536), (53.086, 16.51), (70.104, 16.51), (70.104, 15.51), (53.086, 15.51), (53.086, 10.5664), (70.104, 10.5664), (70.104, 9.5664), (53.086, 9.5664), (53.086, 4.6482), (58.166, 4.6482), (58.166, 1.4732), (46.99, 1.4732), (46.99, 29.972), (39.37, 29.972), (39.37, 30.972), (50.038, 30.972), (50.038, 35.057333333), (39.37, 35.057333333), (39.37, 36.057333333), (50.038, 36.057333333), (50.038, 40.142666667), (39.37, 40.142666667), (39.37, 41.142666667), (50.038, 41.142666667), (50.038, 45.228), (39.37, 45.228), align=None)
    extrude(amount=BOSS_EXTRUDE2_DEPTH, both=True)


solid = Compound([part.part, body_2.part])
